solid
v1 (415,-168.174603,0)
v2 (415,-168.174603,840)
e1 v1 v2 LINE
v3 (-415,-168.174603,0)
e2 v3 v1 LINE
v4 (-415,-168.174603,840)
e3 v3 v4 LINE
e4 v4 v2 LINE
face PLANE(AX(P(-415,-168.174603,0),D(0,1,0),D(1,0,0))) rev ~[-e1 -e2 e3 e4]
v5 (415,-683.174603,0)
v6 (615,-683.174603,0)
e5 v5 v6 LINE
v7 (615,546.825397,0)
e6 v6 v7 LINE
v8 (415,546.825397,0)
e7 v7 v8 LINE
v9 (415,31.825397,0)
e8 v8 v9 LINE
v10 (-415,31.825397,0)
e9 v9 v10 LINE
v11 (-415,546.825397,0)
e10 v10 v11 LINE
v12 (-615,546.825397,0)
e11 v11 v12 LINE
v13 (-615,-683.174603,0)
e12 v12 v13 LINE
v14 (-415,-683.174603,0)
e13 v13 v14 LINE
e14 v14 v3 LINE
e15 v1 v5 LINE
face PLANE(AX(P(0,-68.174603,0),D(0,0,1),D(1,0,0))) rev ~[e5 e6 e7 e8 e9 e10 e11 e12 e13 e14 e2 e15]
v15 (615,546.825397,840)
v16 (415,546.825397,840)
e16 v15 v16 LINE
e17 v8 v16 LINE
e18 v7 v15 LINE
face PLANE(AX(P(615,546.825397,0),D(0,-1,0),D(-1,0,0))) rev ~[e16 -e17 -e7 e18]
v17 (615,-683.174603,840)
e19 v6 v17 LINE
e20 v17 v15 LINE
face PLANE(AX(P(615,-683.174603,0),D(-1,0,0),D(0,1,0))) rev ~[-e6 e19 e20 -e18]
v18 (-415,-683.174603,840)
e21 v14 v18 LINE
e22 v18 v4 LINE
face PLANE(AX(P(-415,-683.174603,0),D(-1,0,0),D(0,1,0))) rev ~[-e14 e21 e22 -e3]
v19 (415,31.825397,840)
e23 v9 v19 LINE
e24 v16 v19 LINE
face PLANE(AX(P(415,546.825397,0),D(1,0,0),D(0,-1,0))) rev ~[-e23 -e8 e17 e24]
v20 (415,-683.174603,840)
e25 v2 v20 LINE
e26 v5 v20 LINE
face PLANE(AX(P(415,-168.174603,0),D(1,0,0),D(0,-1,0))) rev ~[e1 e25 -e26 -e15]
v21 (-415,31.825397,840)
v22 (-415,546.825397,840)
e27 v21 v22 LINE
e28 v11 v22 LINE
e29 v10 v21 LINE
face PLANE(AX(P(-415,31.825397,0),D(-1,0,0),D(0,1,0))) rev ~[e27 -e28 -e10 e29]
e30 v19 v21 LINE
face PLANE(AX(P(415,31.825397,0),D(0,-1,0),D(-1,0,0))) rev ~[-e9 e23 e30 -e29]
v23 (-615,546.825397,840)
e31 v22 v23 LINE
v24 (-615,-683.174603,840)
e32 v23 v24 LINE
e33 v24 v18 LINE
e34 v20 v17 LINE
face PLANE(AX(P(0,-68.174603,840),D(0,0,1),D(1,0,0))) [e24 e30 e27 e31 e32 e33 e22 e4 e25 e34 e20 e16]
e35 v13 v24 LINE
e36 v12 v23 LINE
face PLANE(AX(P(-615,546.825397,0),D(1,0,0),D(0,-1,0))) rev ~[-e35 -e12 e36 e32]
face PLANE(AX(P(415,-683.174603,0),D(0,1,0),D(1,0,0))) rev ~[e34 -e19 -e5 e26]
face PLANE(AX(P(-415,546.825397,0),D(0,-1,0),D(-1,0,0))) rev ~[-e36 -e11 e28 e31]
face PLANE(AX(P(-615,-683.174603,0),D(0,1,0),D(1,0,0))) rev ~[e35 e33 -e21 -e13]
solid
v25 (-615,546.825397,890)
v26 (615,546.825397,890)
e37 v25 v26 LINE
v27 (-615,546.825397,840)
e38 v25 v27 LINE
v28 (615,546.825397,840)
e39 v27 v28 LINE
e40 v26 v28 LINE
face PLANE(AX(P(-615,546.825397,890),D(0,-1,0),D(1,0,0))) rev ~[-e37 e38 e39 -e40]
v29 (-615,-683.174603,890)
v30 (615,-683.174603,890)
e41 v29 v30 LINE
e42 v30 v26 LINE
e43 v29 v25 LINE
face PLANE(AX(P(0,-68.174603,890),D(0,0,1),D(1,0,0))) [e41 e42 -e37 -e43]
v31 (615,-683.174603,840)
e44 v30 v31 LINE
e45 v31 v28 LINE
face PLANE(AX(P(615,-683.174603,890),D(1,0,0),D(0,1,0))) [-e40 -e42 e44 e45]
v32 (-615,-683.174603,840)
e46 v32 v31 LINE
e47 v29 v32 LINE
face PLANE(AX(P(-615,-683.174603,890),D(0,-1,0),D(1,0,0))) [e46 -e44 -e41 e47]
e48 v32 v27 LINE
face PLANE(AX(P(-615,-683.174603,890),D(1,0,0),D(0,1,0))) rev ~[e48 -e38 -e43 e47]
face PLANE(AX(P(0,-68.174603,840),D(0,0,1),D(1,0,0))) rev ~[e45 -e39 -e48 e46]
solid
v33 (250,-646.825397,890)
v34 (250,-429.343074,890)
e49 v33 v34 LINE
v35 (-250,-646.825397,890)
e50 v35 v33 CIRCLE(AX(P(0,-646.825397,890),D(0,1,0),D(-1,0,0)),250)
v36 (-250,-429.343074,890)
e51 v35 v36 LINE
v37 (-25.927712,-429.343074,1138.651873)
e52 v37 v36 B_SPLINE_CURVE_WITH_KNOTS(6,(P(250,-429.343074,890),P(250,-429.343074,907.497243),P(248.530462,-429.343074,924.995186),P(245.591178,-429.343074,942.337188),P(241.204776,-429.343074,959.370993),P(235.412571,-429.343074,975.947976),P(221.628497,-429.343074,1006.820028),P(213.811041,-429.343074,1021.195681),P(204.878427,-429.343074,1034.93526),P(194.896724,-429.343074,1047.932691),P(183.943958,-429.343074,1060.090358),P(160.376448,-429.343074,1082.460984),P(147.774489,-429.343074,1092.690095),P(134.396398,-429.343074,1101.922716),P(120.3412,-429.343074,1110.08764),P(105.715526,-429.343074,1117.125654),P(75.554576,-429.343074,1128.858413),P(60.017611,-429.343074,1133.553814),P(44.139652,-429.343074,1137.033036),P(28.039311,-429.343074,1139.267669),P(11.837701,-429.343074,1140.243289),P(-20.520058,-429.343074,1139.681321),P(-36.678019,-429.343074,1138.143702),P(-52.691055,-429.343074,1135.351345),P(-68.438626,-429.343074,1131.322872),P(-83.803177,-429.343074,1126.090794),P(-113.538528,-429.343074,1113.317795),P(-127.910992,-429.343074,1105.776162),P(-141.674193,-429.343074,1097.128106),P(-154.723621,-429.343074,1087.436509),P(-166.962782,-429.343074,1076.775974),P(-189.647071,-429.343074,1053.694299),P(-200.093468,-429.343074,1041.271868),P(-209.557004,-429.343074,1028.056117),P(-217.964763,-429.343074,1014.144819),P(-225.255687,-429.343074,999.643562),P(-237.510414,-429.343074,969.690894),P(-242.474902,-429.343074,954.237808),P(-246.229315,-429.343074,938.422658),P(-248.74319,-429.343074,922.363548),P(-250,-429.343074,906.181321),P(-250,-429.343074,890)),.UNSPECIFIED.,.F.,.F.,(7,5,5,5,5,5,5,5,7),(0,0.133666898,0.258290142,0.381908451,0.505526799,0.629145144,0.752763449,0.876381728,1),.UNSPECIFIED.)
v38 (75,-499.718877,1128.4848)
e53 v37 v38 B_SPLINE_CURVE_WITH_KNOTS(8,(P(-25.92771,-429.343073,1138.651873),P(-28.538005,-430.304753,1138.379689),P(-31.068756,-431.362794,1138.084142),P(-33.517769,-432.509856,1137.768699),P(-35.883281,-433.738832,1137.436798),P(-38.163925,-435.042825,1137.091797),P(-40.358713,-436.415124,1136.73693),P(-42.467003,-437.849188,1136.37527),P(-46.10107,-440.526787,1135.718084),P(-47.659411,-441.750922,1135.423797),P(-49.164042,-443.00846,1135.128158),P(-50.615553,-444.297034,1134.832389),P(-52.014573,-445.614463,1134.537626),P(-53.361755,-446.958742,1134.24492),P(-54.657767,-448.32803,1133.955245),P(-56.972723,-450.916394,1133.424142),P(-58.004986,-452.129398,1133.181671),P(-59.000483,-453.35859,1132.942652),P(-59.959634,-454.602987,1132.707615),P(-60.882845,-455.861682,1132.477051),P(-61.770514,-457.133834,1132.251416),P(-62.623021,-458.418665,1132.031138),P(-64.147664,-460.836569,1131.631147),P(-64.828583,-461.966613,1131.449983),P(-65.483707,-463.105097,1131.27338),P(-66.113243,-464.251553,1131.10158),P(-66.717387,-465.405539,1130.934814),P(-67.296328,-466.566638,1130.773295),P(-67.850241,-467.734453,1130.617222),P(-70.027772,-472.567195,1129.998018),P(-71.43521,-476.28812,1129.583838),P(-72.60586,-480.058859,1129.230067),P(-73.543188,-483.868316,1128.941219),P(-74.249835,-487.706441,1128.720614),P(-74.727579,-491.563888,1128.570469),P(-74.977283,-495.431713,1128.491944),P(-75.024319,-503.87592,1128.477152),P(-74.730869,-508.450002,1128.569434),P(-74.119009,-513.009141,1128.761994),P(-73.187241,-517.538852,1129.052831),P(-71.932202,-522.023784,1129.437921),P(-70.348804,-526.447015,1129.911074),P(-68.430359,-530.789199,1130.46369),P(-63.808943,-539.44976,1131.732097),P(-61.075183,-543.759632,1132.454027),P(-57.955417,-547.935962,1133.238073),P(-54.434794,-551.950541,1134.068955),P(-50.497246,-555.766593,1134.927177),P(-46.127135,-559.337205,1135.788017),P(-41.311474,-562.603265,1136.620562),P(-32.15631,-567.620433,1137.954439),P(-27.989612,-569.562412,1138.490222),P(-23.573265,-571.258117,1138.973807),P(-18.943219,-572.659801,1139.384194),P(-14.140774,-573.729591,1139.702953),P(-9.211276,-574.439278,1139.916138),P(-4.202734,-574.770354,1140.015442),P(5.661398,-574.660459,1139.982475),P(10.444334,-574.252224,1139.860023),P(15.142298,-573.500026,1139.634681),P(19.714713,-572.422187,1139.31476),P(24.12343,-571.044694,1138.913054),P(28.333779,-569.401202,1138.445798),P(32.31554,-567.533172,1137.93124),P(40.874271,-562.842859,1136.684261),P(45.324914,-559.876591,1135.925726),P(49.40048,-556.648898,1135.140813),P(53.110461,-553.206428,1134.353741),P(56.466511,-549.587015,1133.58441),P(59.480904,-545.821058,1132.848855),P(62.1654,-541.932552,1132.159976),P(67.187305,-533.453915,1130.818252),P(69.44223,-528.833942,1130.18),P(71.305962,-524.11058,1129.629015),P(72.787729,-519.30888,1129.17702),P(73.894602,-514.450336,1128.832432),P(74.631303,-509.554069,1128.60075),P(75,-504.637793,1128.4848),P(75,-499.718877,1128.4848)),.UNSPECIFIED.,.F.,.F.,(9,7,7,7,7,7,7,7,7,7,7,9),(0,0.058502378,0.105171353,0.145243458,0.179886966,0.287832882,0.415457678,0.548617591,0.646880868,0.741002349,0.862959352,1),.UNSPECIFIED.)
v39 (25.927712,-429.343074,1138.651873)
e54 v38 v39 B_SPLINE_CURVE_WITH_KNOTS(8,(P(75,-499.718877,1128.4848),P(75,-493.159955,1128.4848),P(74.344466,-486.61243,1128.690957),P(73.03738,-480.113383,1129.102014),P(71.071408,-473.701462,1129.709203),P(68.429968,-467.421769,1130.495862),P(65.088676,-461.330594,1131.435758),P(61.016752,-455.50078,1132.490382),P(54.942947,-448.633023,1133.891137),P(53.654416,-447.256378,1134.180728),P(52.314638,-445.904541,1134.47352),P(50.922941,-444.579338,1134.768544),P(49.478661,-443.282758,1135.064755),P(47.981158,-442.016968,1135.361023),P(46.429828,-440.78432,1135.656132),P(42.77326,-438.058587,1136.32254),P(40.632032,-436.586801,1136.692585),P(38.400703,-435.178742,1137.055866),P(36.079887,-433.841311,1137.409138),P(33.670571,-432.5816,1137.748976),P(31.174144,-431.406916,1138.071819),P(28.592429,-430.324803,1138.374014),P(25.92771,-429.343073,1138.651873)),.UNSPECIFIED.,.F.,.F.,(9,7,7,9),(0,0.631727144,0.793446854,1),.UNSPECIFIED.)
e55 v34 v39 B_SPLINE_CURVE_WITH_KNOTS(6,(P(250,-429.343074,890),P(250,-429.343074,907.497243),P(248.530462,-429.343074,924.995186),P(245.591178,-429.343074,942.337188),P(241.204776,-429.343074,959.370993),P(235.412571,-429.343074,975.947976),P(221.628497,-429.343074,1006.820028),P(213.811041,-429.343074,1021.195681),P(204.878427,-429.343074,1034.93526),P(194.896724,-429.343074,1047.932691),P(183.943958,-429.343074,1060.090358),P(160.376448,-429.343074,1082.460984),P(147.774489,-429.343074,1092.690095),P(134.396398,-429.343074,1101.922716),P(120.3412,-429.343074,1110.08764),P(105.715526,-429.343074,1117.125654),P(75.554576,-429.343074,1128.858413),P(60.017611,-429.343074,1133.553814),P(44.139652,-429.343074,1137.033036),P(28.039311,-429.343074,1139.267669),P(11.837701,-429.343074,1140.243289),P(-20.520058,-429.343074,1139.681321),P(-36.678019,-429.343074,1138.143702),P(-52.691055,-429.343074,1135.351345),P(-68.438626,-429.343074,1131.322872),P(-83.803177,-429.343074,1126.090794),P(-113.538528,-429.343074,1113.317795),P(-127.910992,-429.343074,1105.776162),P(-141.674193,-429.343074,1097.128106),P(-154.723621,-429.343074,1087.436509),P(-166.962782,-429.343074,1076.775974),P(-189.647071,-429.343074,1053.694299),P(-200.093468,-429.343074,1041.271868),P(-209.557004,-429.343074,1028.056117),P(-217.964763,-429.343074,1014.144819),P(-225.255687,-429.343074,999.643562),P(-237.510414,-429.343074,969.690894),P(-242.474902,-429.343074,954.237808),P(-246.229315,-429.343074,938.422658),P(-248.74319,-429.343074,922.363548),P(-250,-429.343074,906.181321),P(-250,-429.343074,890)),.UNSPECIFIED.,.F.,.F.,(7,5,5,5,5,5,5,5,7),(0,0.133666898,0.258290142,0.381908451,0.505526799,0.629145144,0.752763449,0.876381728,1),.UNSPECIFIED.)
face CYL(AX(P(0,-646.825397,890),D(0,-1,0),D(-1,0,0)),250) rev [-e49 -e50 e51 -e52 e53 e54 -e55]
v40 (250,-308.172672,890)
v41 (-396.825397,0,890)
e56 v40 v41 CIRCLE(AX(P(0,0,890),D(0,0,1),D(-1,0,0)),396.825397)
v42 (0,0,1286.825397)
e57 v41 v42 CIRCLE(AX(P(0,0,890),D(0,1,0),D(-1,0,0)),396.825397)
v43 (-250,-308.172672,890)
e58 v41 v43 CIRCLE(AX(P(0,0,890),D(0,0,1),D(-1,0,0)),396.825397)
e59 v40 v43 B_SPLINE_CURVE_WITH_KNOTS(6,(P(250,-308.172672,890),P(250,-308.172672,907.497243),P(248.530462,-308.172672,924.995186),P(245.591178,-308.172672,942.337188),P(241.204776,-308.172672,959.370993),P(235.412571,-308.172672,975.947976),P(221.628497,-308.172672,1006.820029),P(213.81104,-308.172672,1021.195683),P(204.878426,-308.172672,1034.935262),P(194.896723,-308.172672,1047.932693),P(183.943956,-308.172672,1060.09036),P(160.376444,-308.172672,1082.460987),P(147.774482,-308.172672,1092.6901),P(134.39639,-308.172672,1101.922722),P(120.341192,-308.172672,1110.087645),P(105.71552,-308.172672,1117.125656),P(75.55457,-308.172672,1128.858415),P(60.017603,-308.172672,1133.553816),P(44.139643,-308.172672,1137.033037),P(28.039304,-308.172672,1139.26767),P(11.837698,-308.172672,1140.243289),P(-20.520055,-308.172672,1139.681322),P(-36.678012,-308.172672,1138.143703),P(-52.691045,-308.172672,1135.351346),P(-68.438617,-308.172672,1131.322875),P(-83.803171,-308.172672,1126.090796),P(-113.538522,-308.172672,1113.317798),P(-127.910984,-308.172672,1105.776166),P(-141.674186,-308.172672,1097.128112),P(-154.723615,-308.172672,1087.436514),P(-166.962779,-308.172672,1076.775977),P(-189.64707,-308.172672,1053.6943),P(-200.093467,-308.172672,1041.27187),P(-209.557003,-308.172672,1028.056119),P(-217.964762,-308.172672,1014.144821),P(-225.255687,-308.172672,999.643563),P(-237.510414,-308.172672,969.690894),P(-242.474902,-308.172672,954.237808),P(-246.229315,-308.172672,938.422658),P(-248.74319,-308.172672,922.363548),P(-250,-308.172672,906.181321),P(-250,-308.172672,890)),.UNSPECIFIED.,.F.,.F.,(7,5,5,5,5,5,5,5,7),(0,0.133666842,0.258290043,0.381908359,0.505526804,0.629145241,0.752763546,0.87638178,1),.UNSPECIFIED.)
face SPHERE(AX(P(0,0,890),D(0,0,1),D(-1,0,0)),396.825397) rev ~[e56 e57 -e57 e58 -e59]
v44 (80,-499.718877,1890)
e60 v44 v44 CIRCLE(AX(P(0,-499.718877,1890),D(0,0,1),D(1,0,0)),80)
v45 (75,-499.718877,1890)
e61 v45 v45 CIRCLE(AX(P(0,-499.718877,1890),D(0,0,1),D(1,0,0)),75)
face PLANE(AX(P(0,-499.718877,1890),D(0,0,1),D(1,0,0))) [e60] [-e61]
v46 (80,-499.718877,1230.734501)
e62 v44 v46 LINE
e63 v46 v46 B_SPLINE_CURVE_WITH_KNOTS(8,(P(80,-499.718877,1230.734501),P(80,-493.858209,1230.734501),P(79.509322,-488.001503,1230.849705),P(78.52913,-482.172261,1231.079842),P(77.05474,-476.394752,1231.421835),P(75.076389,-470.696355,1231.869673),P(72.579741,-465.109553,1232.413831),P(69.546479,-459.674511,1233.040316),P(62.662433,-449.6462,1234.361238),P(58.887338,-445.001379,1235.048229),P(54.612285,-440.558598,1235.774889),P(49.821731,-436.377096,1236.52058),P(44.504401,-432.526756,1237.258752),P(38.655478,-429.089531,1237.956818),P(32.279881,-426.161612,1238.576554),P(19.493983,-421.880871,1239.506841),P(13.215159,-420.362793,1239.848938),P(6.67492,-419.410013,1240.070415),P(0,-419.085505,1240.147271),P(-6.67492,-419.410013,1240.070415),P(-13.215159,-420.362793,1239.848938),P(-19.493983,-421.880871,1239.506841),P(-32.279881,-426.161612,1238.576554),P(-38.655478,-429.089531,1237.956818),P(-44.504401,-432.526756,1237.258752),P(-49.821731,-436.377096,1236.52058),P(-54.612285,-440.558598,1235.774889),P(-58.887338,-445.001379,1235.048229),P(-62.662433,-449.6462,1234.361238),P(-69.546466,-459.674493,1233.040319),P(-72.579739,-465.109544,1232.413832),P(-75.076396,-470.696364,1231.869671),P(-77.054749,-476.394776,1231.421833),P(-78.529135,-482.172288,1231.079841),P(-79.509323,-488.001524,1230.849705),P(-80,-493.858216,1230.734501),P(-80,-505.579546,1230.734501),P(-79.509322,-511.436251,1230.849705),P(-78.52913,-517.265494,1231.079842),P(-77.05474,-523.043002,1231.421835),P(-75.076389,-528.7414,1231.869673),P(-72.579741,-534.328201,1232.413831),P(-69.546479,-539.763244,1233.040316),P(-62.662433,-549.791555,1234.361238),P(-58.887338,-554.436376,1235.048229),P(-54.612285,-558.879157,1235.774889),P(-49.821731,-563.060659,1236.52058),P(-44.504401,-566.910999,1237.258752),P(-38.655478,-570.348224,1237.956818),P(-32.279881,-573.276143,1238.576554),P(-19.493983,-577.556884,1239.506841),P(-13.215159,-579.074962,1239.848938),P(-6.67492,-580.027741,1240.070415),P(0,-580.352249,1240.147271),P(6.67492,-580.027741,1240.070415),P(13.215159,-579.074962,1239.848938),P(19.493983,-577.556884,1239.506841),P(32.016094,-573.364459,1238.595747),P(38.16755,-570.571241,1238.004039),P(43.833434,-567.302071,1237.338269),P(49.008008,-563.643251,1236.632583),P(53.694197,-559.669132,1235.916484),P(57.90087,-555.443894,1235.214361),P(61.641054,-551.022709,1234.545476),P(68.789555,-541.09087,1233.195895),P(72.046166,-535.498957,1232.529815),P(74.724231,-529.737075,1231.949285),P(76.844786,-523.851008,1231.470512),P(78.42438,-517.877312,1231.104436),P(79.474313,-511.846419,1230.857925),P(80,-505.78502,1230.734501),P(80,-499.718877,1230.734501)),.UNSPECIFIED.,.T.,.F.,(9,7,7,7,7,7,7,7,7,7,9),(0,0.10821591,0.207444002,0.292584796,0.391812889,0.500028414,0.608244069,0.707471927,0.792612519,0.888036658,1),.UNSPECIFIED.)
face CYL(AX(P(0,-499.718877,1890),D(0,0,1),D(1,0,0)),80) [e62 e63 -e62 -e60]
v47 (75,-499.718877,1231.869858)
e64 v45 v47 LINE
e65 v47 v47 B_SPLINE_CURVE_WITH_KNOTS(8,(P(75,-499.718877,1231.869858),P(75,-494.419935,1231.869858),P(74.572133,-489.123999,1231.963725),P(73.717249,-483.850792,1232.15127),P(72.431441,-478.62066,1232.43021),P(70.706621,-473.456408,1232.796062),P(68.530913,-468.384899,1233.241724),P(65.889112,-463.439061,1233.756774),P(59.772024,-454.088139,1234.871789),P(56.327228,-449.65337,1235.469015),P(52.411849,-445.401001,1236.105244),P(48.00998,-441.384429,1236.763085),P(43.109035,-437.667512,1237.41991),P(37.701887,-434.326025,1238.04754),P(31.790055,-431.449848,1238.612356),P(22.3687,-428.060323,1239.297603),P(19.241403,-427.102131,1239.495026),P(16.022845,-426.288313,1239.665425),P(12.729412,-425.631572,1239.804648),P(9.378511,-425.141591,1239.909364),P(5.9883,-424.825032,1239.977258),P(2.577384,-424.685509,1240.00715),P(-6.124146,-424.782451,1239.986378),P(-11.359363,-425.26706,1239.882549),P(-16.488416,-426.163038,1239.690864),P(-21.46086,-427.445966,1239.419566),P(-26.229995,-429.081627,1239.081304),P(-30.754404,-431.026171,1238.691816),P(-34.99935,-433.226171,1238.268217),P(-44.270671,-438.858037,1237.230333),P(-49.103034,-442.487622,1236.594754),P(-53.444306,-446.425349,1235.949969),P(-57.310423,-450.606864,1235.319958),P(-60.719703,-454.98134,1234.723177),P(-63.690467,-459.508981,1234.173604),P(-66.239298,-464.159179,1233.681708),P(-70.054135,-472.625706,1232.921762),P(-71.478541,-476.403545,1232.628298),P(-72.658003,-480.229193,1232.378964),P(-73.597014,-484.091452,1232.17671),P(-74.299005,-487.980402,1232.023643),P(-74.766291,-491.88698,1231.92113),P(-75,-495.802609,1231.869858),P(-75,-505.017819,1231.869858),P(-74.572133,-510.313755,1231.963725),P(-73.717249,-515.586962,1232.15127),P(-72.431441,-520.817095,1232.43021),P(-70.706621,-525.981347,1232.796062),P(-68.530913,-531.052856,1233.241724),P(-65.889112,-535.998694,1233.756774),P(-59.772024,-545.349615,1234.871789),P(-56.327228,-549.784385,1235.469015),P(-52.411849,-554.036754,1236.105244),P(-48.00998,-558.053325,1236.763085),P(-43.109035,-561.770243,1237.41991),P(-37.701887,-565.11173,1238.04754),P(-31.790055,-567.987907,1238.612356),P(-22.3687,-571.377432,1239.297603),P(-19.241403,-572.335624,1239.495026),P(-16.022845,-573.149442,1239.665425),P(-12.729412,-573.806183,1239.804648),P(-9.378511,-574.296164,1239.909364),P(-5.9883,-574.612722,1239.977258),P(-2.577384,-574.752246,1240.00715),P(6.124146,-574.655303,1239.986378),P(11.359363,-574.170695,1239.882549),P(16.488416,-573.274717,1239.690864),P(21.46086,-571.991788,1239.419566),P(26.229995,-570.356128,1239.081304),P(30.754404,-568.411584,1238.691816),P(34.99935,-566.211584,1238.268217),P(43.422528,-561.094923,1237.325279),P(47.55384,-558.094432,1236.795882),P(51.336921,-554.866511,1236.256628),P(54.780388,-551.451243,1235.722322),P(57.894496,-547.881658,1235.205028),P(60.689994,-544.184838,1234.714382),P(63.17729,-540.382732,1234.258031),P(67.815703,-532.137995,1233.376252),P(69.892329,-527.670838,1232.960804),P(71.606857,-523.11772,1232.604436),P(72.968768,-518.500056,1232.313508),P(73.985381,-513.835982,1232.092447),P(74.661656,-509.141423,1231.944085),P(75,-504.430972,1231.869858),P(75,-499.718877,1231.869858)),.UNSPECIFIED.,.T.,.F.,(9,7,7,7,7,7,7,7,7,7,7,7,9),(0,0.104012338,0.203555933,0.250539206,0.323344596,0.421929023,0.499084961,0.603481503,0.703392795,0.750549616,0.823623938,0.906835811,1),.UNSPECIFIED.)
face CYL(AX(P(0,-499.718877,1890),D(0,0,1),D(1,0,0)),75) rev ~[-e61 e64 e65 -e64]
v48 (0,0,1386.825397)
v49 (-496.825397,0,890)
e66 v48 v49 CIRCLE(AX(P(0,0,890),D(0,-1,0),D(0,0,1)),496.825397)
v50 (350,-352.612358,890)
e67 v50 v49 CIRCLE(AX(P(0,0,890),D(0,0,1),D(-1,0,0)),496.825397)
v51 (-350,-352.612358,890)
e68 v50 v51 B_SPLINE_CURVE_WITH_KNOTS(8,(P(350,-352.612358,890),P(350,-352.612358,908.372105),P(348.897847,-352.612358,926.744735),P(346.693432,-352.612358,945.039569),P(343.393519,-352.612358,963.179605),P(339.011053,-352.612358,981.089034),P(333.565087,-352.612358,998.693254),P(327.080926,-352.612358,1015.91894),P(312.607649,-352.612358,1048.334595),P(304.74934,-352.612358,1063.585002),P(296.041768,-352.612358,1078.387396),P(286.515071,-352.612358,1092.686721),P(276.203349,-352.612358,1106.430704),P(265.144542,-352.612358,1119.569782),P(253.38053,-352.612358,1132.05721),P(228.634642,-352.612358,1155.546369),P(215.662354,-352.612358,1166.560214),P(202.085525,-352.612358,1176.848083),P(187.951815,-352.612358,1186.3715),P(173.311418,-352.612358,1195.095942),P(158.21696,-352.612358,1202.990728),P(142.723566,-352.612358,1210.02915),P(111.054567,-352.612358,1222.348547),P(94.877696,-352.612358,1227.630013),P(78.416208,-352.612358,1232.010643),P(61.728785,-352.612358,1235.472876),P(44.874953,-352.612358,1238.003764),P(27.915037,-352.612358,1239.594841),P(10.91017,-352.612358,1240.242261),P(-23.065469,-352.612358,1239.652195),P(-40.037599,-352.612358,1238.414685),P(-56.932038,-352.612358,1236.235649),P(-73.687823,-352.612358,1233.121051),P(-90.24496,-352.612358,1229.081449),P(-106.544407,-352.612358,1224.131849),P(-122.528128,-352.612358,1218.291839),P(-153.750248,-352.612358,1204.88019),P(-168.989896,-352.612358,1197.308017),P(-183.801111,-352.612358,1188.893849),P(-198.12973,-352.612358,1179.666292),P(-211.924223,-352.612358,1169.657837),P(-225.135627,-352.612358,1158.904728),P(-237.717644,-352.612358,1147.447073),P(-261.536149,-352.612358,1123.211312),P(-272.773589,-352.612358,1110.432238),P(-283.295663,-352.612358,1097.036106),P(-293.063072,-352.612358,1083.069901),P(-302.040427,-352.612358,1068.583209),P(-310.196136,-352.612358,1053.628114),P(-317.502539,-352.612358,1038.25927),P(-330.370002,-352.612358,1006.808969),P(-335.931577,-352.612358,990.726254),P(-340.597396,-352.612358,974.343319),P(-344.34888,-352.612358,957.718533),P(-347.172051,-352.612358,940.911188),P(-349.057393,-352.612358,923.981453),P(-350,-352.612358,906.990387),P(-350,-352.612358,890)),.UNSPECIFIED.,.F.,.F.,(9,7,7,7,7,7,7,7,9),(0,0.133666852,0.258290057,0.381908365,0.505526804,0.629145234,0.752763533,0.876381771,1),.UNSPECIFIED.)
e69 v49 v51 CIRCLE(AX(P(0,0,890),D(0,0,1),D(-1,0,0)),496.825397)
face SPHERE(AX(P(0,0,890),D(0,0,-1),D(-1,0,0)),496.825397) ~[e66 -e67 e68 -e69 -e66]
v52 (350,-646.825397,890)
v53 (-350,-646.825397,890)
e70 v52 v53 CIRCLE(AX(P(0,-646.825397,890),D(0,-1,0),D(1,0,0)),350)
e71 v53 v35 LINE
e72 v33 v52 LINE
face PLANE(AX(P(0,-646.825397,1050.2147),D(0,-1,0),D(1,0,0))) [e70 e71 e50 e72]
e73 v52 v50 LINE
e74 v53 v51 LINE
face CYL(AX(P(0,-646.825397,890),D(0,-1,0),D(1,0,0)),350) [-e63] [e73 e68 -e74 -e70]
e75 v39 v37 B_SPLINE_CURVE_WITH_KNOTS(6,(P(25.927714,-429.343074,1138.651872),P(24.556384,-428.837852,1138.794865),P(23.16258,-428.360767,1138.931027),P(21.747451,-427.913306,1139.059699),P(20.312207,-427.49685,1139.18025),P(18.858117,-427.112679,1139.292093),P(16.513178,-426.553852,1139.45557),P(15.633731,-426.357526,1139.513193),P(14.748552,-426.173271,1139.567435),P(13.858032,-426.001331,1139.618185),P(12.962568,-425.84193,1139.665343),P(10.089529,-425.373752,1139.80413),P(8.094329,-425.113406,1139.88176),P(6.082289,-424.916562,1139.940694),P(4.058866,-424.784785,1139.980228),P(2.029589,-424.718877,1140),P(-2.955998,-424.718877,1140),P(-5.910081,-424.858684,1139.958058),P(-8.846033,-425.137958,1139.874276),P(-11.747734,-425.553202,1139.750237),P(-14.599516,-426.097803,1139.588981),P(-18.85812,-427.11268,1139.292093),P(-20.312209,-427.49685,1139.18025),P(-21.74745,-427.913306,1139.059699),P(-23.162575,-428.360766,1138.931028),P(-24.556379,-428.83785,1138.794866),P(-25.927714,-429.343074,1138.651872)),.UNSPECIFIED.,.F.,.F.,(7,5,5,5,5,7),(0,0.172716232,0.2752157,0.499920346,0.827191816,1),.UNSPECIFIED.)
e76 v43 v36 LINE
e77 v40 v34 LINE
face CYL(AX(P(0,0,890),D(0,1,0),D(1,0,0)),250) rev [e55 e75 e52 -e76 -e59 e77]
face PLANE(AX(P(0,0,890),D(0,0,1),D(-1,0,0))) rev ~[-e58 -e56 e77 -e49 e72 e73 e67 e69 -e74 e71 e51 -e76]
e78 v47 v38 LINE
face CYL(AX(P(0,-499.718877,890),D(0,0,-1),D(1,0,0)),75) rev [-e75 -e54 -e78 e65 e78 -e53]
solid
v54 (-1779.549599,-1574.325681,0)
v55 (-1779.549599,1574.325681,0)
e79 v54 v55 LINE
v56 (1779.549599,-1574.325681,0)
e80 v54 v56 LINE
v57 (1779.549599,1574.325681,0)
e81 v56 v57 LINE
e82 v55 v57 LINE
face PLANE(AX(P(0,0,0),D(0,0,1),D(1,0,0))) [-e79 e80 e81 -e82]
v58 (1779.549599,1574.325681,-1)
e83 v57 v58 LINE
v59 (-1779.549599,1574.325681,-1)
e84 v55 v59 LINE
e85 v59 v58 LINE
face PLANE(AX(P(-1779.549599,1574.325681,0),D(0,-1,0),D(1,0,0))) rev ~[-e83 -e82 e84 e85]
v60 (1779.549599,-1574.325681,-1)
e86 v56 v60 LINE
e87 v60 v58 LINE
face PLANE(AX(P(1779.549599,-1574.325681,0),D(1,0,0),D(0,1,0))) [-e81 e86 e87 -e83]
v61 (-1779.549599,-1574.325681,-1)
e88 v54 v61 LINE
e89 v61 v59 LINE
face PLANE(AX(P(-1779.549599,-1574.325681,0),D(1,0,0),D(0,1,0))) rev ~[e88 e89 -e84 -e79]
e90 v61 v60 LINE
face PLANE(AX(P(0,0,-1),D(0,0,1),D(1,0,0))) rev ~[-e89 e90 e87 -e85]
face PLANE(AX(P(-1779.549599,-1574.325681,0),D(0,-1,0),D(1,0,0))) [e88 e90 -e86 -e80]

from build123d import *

# Parameters (mm, degrees)
F12_DEPTH = 496.8263968254
F16_R     = 75
F17_DEPTH = 351.0000000992
F19_R     = 80
F19_R_2   = 75
F20_DEPTH = 660.265499352
F21_W     = 1230
F21_H     = 1230
F22_DEPTH = 50
F23_W     = 3559.0991973877
F23_H     = 3148.6513614655
F24_DEPTH = 1
F26_DEPTH = 840


with BuildPart() as f10:
    # F9 (on Front) → F10 (revolve)
    with BuildSketch(Plane.XZ):
        with BuildLine():
            Line((-496.8253968254, 890), (-396.8253968254, 890))
            ThreePointArc((-396.8253968254, 890), (-280.5979290423, 1170.5979290423), (0, 1286.8253968254))
            Line((0, 1286.8253968254), (0, 1386.8253968254))
            ThreePointArc((0, 1386.8253968254), (-351.3086071609, 1241.3086071609), (-496.8253968254, 890))
        make_face()
    revolve(axis=Axis((0, 0, 1037.9446418654), (0, 0, 1)))

    # F11 (on Front) → F12 (cut, through all)
    with BuildSketch(Plane.XZ):
        with BuildLine():
            ThreePointArc((250, 890), (0, 1140), (-250, 890))
            Line((-250, 890), (250, 890))
        make_face()
    extrude(amount=F12_DEPTH, mode=Mode.SUBTRACT)

    # F14 (on offset) → F15 (join, up to the next surface of F10)
    with BuildSketch(Plane.XZ.offset(646.8253968254)):
        with BuildLine():
            Line((-350, 890), (-250, 890))
            ThreePointArc((-250, 890), (0, 1140), (250, 890))
            Line((250, 890), (350, 890))
            ThreePointArc((350, 890), (0, 1240), (-350, 890))
        make_face()
    extrude(until=Until.NEXT, dir=(0, 1, 0))

    # F16 (on offset) → F17 (cut, up to face)
    with BuildSketch(Plane.XY.offset(890)):
        with Locations((0, -499.7188773534)):
            Circle(F16_R)
    extrude(amount=F17_DEPTH, mode=Mode.SUBTRACT)

    # F19 (on offset) → F20 (join, up to face)
    with BuildSketch(Plane.XY.offset(1890)):
        with Locations((0, -499.7188773534)):
            Circle(F19_R)
        with Locations((0, -499.7188773534)):
            Circle(F19_R_2, mode=Mode.SUBTRACT)
    extrude(amount=-F20_DEPTH)


with BuildPart() as f22:
    # F21 (on offset) → F22 (new body)
    with BuildSketch(Plane.XY.offset(890)):
        with Locations((0, -68.1746031746)):
            Rectangle(F21_W, F21_H)
    extrude(amount=-F22_DEPTH)


with BuildPart() as f24:
    # F23 (on Top) → F24 (new body)
    with BuildSketch(Plane.XY):
        Rectangle(F23_W, F23_H)
    extrude(amount=-F24_DEPTH)


with BuildPart() as f26:
    # F25 (on Top) → F26 (new body)
    with BuildSketch(Plane.XY):
        Polygon((-415, 546.8253968254), (-615, 546.8253968254), (-615, -683.1746031746), (-415, -683.1746031746), (-415, -168.1746031746), (415, -168.1746031746), (415, -683.1746031746), (615, -683.1746031746), (615, 546.8253968254), (415, 546.8253968254), (415, 31.8253968254), (-415, 31.8253968254), align=None)
    extrude(amount=F26_DEPTH)


solid = Compound([f10.part, f22.part, f24.part, f26.part])
